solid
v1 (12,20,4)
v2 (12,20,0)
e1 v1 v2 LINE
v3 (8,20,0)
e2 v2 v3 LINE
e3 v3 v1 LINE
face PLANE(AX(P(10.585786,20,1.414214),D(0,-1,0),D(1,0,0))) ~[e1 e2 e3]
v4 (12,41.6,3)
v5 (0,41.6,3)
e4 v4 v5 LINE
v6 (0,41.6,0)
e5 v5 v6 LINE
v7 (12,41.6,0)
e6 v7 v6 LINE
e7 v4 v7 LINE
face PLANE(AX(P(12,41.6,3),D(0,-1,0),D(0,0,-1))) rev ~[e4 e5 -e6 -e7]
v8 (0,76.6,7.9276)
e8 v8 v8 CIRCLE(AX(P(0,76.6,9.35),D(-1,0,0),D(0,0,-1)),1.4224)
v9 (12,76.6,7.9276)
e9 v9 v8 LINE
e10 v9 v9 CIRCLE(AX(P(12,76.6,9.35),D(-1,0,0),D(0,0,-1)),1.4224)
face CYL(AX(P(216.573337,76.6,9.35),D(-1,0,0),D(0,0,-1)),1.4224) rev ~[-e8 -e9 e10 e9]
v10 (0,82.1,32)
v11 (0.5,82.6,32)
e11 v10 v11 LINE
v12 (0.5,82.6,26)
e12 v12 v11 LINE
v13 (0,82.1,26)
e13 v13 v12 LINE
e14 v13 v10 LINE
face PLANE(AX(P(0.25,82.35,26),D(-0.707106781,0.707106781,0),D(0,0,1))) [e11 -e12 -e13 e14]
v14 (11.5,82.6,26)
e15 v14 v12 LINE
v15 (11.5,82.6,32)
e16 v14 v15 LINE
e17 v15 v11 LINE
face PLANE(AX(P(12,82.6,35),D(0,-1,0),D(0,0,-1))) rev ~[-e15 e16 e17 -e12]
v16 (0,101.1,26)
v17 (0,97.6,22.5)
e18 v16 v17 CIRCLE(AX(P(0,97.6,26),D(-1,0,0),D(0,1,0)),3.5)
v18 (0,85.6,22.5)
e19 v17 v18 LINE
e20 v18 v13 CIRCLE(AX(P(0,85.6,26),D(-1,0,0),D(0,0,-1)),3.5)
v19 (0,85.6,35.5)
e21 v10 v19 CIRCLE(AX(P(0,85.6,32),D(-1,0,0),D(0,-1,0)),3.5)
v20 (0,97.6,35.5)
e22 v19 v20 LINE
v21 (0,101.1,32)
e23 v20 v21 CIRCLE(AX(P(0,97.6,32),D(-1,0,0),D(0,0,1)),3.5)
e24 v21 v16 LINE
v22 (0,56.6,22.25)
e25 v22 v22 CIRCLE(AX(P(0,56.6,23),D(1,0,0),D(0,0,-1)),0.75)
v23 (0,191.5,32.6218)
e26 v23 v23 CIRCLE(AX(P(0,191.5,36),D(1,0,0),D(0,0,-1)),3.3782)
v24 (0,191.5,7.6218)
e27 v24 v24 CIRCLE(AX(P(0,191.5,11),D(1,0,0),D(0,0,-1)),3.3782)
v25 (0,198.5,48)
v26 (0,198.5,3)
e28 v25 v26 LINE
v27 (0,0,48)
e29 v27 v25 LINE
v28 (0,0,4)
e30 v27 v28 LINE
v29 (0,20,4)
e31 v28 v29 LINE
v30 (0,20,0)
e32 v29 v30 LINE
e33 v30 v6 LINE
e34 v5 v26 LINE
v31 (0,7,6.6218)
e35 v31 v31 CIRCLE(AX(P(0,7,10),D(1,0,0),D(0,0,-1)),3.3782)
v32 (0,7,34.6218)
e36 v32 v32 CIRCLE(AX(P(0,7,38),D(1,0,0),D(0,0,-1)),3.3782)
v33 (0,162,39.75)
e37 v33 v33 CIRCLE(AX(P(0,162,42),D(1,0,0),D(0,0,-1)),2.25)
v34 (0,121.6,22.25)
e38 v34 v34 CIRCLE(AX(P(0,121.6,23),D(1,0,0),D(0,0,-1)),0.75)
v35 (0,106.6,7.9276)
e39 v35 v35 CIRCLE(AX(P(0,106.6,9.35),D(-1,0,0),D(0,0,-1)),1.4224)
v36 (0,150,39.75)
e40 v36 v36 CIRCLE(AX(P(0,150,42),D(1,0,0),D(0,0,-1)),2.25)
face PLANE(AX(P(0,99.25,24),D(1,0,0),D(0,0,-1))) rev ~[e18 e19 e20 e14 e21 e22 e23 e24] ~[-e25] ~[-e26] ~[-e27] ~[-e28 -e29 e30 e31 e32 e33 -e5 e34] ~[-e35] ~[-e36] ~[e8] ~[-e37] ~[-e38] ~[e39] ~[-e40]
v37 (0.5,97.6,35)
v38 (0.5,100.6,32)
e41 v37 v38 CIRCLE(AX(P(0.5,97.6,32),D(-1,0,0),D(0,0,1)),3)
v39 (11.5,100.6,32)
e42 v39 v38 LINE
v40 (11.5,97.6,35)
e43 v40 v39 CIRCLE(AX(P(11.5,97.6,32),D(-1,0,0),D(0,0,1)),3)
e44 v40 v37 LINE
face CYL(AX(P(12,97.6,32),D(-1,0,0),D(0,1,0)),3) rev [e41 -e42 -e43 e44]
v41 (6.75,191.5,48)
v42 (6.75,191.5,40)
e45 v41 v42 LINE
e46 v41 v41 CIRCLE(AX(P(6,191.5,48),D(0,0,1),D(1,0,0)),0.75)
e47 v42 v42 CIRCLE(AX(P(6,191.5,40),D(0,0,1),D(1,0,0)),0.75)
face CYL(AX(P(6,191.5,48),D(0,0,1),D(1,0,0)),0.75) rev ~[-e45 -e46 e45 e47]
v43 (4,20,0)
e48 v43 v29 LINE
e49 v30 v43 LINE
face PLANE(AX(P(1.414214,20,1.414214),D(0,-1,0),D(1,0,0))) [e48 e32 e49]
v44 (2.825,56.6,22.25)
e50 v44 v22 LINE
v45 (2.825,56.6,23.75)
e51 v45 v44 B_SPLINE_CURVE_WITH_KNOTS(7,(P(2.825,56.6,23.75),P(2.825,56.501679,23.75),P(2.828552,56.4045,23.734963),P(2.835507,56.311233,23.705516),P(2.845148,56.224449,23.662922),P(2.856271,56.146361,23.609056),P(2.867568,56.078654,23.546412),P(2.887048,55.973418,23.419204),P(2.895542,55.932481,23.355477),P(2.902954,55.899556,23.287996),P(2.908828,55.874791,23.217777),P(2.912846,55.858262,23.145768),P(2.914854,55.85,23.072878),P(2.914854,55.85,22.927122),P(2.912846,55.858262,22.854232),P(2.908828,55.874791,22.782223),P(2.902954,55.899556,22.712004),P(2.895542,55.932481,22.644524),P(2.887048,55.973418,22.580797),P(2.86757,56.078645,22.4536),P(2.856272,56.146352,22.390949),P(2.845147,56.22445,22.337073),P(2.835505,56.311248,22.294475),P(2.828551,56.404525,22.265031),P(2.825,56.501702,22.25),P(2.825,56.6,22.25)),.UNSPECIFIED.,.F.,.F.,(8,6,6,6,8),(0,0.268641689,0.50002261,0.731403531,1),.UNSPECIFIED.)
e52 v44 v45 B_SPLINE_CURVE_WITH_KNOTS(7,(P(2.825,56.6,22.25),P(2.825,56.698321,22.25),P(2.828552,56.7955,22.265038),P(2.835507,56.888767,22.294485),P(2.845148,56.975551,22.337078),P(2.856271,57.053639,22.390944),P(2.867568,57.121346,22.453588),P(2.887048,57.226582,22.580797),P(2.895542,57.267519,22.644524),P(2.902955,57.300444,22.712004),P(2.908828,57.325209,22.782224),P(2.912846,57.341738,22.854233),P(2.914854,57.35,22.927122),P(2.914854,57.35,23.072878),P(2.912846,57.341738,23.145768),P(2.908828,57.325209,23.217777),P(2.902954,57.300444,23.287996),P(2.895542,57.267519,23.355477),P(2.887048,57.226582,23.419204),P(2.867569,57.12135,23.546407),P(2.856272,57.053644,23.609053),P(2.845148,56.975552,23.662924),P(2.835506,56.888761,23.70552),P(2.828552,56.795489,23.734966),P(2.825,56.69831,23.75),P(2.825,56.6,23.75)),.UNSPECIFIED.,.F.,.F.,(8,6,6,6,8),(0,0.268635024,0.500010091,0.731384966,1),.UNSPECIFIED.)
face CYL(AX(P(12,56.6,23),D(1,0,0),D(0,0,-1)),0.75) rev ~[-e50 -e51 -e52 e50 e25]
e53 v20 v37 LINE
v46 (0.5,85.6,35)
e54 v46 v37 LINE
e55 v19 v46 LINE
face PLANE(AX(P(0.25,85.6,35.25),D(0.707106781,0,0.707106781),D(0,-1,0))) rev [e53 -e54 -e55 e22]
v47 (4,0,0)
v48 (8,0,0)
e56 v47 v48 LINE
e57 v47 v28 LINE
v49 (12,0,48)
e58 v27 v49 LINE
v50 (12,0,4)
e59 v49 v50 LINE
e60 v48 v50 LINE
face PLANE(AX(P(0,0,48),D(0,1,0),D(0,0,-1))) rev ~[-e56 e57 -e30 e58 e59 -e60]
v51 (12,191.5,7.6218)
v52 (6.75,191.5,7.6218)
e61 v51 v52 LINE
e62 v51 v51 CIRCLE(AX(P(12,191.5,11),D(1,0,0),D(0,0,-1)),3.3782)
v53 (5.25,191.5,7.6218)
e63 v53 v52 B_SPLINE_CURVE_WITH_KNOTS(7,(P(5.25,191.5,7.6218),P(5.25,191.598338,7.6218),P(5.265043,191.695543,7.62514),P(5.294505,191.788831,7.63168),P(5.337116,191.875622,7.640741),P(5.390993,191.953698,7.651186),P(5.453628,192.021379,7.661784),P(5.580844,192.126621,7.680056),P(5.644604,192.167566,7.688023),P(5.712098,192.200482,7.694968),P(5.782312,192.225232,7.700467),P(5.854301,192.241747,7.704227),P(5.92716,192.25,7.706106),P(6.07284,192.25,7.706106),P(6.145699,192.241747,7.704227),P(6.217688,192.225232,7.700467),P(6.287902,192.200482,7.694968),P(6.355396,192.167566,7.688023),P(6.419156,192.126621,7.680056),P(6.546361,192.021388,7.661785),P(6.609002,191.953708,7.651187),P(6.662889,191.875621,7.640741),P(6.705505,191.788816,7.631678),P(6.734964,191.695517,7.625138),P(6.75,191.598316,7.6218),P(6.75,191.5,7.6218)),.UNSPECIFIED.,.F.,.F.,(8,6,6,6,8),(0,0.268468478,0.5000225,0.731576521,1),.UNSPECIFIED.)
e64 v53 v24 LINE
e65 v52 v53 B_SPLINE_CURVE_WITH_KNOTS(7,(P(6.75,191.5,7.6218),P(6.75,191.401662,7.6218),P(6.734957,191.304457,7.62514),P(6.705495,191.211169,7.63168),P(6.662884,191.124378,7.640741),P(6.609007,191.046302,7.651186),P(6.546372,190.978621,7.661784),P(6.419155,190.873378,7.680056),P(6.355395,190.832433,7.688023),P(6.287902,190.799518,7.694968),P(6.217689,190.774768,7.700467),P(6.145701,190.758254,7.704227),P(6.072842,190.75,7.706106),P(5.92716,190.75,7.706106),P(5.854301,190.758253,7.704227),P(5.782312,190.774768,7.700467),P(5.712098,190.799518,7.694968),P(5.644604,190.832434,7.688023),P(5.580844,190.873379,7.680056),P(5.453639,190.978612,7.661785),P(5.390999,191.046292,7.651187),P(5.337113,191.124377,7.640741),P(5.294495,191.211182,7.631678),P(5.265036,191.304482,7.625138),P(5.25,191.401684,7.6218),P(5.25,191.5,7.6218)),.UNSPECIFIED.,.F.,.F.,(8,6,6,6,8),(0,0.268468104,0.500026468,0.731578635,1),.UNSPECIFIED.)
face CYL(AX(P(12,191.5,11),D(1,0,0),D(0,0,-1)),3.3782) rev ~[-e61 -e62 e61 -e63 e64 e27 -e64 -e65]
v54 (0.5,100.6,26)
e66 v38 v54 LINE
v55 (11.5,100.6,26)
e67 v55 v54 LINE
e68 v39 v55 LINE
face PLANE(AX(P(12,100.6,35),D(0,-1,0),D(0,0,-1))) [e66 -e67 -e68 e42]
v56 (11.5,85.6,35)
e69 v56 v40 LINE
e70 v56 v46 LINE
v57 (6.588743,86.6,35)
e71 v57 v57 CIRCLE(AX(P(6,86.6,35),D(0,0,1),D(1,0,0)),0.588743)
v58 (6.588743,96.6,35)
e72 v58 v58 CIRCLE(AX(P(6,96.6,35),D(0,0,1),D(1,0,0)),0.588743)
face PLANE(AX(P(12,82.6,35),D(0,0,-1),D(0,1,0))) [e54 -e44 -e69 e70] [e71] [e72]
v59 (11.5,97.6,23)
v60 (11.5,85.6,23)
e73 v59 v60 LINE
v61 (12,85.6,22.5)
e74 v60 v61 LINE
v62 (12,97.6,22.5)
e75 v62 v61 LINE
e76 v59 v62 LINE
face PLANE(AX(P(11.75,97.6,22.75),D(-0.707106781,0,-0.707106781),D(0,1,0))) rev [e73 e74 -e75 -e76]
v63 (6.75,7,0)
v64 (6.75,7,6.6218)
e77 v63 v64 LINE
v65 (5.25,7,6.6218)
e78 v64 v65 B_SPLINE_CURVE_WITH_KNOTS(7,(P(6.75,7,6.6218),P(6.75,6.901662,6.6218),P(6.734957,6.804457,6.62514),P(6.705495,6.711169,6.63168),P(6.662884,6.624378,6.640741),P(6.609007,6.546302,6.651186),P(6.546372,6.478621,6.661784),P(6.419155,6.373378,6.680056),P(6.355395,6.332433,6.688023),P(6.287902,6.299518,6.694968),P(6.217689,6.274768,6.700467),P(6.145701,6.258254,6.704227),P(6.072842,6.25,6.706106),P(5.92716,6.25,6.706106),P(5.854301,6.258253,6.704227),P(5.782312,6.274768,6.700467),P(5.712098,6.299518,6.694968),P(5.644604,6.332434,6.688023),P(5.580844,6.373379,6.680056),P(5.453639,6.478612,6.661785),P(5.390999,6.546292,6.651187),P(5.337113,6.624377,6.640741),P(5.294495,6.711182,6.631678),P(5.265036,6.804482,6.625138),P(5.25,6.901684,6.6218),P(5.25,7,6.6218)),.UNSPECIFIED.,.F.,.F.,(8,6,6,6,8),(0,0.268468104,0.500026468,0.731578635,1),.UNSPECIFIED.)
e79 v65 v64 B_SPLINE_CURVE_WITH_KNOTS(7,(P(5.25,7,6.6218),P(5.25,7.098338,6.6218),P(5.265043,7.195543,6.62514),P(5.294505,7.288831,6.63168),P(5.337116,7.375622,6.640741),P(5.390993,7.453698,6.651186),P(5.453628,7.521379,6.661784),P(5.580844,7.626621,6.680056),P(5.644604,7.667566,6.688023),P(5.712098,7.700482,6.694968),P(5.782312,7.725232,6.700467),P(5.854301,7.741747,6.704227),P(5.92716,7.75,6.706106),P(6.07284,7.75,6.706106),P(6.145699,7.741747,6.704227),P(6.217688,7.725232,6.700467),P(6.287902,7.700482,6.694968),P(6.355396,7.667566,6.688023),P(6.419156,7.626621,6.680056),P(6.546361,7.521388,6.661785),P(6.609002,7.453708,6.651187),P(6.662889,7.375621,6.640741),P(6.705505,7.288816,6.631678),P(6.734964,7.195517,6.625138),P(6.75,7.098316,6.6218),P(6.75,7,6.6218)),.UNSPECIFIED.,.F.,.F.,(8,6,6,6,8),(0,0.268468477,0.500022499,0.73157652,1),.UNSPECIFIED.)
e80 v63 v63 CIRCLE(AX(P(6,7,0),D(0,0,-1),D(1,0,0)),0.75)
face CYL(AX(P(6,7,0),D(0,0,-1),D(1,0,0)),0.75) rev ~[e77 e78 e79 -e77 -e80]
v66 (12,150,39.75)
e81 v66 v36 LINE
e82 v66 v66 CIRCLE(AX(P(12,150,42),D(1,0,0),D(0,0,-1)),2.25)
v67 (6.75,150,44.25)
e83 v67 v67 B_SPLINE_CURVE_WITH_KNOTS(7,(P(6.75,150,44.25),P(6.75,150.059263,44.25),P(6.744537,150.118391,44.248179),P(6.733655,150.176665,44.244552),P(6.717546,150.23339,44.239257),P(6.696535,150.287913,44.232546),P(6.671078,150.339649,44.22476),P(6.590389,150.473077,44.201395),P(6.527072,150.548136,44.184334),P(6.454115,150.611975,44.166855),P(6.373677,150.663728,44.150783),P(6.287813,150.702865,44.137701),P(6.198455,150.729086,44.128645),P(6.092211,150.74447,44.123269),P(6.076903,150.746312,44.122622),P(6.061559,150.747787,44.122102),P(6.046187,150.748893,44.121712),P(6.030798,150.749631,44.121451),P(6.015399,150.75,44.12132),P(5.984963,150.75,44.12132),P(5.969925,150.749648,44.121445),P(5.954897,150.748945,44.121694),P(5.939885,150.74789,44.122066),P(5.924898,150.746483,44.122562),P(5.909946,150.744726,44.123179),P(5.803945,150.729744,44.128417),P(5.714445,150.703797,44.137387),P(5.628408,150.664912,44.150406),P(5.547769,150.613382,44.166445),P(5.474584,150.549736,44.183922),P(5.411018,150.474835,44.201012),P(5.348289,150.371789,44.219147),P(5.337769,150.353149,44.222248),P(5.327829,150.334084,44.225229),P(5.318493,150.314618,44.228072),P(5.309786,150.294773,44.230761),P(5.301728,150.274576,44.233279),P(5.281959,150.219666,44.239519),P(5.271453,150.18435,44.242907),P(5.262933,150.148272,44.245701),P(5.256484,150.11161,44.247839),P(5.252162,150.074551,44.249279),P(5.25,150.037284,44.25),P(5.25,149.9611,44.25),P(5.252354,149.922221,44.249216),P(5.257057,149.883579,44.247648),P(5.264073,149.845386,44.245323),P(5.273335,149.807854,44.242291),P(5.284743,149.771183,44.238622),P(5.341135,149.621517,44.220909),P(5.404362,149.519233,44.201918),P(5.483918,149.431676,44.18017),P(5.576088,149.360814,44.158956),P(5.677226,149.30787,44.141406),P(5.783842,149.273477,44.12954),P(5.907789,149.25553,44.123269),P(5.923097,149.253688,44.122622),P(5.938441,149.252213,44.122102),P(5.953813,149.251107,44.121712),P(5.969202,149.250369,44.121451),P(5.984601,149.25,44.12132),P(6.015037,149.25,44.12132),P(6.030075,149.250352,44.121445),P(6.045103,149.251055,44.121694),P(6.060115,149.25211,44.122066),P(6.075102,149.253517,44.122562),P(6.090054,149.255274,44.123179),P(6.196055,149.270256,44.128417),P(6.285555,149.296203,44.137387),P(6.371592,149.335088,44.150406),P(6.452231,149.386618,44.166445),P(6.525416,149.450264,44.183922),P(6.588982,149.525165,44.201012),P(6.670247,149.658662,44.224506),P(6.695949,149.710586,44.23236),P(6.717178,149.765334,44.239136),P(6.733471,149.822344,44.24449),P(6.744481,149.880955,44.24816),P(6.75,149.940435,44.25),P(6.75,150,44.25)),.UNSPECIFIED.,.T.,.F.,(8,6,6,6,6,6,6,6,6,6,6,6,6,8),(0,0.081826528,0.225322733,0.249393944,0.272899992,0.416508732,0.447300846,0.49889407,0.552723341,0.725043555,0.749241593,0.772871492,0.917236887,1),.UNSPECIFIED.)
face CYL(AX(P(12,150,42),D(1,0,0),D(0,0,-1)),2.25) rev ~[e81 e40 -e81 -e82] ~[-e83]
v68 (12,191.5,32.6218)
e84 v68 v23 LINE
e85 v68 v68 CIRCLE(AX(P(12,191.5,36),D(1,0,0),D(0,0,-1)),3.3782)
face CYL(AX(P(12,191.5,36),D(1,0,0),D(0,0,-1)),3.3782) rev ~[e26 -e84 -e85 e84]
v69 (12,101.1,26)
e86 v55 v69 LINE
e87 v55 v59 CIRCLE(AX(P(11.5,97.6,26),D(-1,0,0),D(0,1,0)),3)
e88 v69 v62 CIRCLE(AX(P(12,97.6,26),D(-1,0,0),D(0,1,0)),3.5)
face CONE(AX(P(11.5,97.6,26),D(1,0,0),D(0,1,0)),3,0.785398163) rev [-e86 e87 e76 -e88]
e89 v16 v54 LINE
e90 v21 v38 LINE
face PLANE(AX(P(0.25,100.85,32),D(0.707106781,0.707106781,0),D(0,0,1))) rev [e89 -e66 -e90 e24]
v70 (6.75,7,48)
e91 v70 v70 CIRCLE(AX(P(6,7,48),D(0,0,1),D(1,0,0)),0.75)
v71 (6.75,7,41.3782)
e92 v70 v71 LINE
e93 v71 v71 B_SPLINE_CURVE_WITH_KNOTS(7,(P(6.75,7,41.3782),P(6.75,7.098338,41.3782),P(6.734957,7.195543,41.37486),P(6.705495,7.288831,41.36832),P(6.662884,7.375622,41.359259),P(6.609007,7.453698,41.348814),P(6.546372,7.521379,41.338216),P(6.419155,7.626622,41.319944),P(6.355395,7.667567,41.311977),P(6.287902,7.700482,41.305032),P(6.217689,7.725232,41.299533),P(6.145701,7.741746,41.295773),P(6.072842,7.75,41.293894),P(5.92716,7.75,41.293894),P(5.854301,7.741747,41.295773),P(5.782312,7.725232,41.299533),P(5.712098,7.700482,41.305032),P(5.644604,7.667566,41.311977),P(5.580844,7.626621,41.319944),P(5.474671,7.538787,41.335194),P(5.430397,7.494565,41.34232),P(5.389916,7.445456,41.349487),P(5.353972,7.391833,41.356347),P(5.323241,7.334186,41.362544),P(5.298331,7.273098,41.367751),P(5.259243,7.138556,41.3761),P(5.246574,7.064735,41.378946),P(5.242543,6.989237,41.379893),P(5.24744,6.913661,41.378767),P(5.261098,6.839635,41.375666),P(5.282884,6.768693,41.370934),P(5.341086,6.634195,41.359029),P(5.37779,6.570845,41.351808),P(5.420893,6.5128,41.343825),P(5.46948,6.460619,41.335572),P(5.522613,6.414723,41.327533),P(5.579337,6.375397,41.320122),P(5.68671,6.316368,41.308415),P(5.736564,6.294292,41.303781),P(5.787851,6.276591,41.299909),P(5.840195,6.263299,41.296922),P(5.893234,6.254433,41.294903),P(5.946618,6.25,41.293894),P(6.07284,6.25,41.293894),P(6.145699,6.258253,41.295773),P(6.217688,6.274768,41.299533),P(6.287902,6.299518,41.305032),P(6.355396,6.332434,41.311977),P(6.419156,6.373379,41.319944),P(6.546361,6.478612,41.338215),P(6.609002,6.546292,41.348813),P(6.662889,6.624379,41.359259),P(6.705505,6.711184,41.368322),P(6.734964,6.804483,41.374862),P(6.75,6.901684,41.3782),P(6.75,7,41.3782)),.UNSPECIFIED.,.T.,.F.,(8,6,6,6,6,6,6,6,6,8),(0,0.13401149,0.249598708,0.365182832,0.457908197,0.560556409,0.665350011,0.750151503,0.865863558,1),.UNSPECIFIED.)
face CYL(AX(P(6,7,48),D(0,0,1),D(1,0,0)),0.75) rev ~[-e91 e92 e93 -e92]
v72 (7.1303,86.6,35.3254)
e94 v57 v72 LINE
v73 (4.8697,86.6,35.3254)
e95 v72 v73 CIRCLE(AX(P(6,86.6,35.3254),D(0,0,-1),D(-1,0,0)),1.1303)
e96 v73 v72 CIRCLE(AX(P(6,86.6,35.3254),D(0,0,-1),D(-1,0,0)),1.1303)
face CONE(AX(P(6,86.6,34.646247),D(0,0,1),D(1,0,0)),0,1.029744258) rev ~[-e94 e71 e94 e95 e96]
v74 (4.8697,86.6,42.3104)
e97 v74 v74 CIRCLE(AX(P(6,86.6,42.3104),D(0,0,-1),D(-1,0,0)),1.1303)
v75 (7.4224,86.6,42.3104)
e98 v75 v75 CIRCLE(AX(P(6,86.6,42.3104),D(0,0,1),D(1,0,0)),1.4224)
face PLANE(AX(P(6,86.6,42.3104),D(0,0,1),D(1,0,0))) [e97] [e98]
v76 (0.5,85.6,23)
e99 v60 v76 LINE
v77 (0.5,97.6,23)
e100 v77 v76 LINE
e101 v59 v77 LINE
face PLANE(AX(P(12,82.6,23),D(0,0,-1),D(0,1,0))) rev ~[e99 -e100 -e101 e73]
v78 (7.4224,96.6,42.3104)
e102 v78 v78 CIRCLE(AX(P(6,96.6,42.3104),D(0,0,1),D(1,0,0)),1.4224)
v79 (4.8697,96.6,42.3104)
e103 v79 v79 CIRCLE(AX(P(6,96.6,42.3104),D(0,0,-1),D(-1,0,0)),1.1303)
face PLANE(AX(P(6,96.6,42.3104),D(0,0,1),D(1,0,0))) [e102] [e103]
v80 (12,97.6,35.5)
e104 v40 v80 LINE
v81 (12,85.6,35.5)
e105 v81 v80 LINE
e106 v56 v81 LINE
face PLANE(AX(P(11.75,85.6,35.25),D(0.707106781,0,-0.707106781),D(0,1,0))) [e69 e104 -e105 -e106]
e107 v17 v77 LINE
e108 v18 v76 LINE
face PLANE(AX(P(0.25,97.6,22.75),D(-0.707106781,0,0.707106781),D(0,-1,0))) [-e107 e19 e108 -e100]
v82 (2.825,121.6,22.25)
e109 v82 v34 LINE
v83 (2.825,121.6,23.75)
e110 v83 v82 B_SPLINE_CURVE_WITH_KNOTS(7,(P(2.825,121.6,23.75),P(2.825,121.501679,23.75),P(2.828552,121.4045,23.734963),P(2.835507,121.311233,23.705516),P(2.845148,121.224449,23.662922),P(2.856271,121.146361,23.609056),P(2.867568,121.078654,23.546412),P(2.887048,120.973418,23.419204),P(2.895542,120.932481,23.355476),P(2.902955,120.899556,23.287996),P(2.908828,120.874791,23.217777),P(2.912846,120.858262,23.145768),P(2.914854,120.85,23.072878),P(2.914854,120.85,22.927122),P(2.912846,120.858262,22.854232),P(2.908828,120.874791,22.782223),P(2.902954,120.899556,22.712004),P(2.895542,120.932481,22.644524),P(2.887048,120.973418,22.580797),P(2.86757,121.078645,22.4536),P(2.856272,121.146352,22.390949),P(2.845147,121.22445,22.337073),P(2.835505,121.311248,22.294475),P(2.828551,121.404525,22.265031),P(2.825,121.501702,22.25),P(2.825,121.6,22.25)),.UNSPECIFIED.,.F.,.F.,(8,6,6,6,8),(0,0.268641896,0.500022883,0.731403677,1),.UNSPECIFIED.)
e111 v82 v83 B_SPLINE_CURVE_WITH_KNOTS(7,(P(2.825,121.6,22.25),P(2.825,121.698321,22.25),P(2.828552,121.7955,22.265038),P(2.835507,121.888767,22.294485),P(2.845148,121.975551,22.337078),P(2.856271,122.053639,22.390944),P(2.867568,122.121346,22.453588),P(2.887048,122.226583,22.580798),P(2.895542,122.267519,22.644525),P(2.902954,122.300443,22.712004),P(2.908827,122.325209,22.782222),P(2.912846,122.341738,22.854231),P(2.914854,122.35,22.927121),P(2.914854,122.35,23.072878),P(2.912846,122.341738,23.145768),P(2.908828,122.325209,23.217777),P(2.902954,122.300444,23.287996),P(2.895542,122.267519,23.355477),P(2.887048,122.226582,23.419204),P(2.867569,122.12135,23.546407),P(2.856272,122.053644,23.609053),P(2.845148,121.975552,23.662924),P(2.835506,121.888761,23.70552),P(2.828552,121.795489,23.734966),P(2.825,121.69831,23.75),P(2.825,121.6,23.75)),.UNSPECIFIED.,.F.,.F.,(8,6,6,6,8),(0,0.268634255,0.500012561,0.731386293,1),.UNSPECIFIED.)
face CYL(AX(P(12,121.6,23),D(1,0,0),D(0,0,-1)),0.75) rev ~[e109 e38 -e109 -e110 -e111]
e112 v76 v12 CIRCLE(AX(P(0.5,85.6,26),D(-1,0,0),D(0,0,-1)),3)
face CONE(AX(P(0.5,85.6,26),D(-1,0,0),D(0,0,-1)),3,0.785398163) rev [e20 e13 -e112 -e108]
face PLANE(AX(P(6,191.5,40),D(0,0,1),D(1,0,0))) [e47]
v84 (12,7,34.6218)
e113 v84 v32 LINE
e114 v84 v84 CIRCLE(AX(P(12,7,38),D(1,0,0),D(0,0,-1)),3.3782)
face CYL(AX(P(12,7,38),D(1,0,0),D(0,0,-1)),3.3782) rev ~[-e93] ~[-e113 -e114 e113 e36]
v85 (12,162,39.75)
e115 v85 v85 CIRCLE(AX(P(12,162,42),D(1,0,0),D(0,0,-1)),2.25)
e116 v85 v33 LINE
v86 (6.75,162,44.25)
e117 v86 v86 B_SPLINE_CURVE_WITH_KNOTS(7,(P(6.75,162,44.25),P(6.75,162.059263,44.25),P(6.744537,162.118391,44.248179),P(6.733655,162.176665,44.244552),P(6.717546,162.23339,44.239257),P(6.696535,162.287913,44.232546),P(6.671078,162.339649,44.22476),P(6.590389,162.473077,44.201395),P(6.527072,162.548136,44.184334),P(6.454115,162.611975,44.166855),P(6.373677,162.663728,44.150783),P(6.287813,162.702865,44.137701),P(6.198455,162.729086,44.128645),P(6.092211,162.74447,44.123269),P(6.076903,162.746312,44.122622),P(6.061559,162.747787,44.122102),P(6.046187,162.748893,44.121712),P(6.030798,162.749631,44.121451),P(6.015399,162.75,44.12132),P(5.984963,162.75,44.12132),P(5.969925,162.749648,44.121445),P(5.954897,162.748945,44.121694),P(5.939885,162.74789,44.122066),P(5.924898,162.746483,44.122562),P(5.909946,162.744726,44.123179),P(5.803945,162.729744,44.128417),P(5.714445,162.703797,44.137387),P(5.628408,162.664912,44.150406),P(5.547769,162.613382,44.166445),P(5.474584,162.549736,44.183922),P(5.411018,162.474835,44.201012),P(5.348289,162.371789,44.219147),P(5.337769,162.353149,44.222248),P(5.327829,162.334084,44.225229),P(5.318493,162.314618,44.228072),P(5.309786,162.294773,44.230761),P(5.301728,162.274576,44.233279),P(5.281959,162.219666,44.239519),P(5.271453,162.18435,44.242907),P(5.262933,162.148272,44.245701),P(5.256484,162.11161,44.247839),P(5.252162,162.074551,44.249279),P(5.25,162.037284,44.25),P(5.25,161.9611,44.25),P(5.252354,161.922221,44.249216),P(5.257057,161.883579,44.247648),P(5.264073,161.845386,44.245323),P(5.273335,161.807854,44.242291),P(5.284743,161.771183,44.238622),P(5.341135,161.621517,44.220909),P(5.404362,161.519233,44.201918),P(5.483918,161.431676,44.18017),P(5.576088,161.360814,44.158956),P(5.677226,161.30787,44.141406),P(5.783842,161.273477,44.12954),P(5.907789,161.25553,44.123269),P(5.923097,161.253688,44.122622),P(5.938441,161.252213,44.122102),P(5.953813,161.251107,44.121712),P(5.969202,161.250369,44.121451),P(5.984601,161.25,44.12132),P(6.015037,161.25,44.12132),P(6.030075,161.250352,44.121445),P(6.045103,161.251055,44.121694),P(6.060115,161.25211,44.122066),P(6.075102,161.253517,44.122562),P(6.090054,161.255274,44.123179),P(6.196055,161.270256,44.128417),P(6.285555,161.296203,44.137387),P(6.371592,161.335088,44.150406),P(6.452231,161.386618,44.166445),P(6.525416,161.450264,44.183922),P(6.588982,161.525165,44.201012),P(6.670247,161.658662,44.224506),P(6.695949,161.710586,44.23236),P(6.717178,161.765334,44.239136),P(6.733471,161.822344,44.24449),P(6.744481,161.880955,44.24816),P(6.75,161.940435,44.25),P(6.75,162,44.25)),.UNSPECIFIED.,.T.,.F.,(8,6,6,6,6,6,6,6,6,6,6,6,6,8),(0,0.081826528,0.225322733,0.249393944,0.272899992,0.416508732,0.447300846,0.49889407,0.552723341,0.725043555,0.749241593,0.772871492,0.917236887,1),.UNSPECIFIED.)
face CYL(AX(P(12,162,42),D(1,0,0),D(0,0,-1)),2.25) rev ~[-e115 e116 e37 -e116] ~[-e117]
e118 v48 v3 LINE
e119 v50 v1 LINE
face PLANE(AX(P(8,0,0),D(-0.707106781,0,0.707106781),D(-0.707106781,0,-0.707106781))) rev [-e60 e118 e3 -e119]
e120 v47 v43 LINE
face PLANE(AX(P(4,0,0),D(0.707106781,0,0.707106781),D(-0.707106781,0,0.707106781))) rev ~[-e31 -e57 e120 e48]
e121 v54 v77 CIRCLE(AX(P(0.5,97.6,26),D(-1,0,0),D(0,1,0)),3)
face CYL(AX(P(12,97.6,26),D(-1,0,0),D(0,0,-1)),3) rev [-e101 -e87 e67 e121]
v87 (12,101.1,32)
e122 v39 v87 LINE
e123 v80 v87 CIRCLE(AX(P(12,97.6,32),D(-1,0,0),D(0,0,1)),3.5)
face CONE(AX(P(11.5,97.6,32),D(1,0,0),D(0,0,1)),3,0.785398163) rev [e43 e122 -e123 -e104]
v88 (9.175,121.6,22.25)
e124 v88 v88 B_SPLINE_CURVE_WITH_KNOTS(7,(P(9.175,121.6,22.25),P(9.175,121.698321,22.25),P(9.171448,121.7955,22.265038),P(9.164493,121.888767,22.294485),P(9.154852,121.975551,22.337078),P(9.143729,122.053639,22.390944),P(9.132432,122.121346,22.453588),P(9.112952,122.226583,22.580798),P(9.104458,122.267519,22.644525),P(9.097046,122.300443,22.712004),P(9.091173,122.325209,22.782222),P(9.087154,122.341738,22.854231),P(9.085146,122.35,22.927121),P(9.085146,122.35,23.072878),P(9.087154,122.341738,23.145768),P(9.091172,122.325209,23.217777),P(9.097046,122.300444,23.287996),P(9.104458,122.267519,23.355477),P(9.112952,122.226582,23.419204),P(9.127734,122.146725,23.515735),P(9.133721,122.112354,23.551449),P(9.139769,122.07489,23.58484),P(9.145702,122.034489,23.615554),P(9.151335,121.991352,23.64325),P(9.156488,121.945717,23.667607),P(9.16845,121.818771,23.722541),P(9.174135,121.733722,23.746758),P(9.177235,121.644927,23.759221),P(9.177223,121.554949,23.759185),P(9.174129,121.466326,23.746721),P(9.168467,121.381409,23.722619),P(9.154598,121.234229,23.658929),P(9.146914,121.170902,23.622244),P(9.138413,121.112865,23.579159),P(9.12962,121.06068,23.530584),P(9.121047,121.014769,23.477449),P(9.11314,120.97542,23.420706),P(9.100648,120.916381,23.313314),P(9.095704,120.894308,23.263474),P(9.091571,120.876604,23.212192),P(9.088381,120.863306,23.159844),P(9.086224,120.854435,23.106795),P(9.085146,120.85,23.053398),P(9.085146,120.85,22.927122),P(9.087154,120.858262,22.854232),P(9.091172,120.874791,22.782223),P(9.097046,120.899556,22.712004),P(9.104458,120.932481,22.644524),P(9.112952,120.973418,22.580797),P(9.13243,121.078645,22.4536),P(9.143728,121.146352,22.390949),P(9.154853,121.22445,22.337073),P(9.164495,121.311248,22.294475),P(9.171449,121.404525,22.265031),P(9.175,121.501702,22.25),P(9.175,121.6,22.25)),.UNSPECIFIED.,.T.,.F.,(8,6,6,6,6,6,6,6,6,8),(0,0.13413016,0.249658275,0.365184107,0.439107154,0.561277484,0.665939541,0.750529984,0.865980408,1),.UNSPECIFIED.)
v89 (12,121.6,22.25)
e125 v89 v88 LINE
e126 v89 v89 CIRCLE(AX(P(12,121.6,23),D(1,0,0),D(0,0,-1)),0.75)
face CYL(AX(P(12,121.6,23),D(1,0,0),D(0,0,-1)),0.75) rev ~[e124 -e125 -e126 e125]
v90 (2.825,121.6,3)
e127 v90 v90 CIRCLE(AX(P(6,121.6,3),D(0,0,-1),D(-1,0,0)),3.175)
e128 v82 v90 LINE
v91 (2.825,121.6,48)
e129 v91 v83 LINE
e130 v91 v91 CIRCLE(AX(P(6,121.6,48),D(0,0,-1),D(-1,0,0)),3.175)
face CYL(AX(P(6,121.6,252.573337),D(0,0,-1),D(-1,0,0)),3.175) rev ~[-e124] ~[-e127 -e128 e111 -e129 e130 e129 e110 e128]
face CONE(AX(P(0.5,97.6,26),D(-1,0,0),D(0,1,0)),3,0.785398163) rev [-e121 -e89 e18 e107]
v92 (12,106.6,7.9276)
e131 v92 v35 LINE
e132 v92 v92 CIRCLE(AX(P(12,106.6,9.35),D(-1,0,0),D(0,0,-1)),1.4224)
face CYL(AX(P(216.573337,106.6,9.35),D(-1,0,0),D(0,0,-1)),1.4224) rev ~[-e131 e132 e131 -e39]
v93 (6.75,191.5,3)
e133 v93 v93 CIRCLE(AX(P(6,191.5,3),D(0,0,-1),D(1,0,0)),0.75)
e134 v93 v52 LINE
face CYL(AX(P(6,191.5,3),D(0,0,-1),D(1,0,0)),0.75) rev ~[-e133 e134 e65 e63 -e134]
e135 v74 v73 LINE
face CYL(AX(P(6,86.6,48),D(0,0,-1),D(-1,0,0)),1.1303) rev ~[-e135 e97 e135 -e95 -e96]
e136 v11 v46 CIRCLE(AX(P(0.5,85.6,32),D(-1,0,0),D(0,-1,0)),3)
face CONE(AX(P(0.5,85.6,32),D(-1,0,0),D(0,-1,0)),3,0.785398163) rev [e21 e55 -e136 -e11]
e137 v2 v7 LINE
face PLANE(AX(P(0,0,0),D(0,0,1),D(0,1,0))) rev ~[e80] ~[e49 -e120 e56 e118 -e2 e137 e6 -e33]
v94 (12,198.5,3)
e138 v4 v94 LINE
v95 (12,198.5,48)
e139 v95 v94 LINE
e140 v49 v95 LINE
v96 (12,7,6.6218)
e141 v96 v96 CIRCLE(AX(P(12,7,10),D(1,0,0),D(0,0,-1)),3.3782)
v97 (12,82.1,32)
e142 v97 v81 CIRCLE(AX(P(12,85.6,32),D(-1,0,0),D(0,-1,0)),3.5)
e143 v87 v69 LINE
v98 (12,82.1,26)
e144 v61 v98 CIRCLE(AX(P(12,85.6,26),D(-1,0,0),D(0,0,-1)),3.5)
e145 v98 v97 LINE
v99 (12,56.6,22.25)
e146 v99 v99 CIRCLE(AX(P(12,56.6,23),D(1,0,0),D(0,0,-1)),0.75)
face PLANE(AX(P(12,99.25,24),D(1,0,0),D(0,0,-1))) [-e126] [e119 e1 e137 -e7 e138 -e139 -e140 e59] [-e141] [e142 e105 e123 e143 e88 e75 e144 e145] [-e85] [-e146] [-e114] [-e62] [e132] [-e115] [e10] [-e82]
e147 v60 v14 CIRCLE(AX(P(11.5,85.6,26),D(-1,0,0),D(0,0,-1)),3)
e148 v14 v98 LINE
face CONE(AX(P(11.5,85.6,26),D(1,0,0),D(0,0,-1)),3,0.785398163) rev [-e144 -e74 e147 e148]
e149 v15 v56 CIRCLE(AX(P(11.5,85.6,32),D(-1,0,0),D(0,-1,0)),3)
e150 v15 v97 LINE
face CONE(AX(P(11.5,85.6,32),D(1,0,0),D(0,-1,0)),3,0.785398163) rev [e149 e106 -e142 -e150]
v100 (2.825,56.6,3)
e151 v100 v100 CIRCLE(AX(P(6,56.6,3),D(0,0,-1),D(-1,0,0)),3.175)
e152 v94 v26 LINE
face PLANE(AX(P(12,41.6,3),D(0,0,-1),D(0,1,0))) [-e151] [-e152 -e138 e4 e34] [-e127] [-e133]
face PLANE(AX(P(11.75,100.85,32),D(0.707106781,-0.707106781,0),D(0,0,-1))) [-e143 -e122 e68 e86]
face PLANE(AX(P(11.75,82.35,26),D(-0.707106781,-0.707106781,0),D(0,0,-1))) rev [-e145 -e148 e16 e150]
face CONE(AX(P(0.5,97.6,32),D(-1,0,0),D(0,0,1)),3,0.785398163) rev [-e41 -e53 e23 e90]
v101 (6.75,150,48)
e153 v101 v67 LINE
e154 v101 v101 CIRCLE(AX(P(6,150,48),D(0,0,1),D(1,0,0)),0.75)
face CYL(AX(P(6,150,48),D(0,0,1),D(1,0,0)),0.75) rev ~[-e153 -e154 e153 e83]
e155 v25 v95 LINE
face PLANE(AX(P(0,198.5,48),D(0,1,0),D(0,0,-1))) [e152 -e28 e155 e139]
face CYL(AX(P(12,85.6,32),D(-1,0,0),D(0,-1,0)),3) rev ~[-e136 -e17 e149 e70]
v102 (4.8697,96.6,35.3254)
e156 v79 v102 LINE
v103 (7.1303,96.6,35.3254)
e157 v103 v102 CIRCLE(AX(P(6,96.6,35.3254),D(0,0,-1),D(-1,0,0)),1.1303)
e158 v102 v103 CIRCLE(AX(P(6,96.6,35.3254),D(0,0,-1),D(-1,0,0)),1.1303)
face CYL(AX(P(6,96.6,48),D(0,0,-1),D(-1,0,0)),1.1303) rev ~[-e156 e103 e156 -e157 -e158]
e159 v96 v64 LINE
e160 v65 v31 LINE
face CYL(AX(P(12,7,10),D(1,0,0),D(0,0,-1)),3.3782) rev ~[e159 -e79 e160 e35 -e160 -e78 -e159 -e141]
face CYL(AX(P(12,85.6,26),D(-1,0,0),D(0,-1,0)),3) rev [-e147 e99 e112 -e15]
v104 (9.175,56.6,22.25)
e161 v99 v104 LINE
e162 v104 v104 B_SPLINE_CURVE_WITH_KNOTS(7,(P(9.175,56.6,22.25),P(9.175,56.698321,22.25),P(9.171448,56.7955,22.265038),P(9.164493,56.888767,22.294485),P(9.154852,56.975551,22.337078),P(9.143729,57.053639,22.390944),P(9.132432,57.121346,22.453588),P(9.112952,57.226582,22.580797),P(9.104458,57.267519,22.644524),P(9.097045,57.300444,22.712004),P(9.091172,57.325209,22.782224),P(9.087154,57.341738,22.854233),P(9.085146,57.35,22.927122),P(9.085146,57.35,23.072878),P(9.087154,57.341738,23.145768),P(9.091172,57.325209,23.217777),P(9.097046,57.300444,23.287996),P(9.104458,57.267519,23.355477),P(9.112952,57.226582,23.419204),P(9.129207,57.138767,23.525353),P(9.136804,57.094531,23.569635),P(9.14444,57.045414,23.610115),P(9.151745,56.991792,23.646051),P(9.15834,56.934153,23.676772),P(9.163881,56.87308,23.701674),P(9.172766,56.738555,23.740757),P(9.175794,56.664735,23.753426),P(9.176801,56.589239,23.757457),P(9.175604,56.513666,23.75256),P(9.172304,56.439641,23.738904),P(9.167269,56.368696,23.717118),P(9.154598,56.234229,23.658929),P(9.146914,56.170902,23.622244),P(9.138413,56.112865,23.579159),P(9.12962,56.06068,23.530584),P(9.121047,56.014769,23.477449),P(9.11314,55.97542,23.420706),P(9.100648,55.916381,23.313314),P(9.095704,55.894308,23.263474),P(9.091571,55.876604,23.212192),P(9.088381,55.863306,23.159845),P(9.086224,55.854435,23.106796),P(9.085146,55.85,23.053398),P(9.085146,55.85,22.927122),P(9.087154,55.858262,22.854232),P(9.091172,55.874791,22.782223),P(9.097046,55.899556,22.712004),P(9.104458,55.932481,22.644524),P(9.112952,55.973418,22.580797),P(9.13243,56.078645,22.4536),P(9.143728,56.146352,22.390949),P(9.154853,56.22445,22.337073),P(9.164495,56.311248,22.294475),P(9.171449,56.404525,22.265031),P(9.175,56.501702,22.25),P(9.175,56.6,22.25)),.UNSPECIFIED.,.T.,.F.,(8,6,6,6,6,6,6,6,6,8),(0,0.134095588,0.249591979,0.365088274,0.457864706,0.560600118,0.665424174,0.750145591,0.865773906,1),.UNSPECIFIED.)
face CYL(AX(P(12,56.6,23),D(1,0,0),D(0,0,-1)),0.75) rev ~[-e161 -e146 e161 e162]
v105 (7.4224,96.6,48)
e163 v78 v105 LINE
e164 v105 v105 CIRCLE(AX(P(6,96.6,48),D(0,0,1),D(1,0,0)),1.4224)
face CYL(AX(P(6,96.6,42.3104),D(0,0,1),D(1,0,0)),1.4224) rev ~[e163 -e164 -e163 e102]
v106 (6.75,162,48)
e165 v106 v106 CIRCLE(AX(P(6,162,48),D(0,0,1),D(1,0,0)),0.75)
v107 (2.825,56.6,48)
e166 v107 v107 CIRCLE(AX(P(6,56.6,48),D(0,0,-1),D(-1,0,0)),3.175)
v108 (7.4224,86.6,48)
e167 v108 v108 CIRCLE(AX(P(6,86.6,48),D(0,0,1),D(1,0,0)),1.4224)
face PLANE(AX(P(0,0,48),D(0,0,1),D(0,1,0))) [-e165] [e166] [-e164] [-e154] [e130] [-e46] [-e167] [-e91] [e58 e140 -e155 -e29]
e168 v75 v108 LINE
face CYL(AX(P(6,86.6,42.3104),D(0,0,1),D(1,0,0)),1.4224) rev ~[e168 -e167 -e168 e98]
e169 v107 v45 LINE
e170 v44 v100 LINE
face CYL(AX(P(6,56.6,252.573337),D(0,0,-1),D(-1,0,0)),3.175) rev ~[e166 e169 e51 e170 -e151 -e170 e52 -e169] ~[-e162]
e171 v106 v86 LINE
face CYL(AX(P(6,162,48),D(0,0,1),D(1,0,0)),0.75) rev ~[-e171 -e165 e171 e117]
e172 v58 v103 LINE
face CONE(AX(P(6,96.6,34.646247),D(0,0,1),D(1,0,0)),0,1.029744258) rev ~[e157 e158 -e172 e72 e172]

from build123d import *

# Parameters (mm, degrees)
SKETCH1_W                       = 48.000000106
SKETCH1_H                       = 198.5
EXTRUDE1_DEPTH                  = 12
SKETCH2_W                       = 3
SKETCH2_H                       = 156.9
EXTRUDE2_DEPTH                  = 13
SKETCH3_R                       = 3.3782
SKETCH3_R_2                     = 0.75
EXTRUDE3_DEPTH                  = 13
SKETCH4_W                       = 12
SKETCH4_H                       = 18
EXTRUDE4_DEPTH                  = 13
FILLET1_R                       = 3
CHAMFER1_SIZE                   = 0.5
EXTRUDE5_DEPTH                  = 20
F_4_40_TAPPED_HOLE1_D           = 2.8448
F_4_40_TAPPED_HOLE2_D           = 2.2606
F_4_40_TAPPED_HOLE2_DEPTH       = 12.6746
F_4_40_TAPPED_HOLE2_CBORE_D     = 2.8448
F_4_40_TAPPED_HOLE2_CBORE_DEPTH = 5.6896
F_4_40_TAPPED_HOLE2_TIP         = 0.679152758
F_1_4_20_TAPPED_HOLE1_D         = 6.35
SKETCH9_R                       = 0.75
EXTRUDE6_DEPTH                  = 8
SKETCH10_R                      = 0.75
EXTRUDE7_DEPTH                  = 8
SKETCH12_R                      = 0.75
EXTRUDE8_DEPTH                  = 8
SKETCH13_R                      = 2.25
CUT_EXTRUDE1_DEPTH              = 13.0000001
SKETCH14_R                      = 0.75
CUT_EXTRUDE2_DEPTH              = 6


with BuildPart() as part:
    # Sketch1 → Extrude1 (new body)
    with BuildSketch(Plane(origin=(0, 0, 0), x_dir=(0, 0, -1), z_dir=(1, 0, 0))):
        with Locations((-24.000000053, 99.25)):
            Rectangle(SKETCH1_W, SKETCH1_H)
    extrude(amount=EXTRUDE1_DEPTH)

    # Sketch2 → Extrude2 (cut, through all)
    with BuildSketch(Plane(origin=(12, 0, 0), x_dir=(0, 0, -1), z_dir=(1, 0, 0))):
        with Locations((-1.5, 120.05)):
            Rectangle(SKETCH2_W, SKETCH2_H)
    extrude(amount=-EXTRUDE2_DEPTH, mode=Mode.SUBTRACT)

    # Sketch3 → Extrude3 (cut, through all)
    with BuildSketch(Plane(origin=(12, 0, 0), x_dir=(0, 0, -1), z_dir=(1, 0, 0))):
        with Locations((-36.000000106, 191.5)):
            Circle(SKETCH3_R)
        with Locations((-11.000000106, 191.5)):
            Circle(SKETCH3_R)
        with Locations((-38.000000106, 7)):
            Circle(SKETCH3_R)
        with Locations((-10.000000106, 7)):
            Circle(SKETCH3_R)
        with Locations((-23.000000106, 56.6)):
            Circle(SKETCH3_R_2)
        with Locations((-23.000000106, 121.6)):
            Circle(SKETCH3_R_2)
    extrude(amount=-EXTRUDE3_DEPTH, mode=Mode.SUBTRACT)

    # Sketch4 → Extrude4 (cut, through all)
    with BuildSketch(Plane(origin=(12, 0, 0), x_dir=(0, 0, -1), z_dir=(1, 0, 0))):
        with Locations((-29.000000106, 91.6)):
            Rectangle(SKETCH4_W, SKETCH4_H)
    extrude(amount=-EXTRUDE4_DEPTH, mode=Mode.SUBTRACT)

    # Fillet1
    fillet1_edges = [part.edges().sort_by_distance(p)[0] for p in [
        (6, 82.6, 35.000000106),
        (6, 100.6, 35.000000106),
        (6, 100.6, 23.000000106),
        (6, 82.6, 23.000000106),
    ]]
    fillet(fillet1_edges, radius=FILLET1_R)

    # Chamfer1
    chamfer1_edges = [part.edges().sort_by_distance(p)[0] for p in [
        (12, 91.6, 35.000000106),
        (0, 91.6, 35.000000106),
        (12, 100.6, 29.000000106),
        (0, 100.6, 29.000000106),
        (12, 91.6, 23.000000106),
        (0, 91.6, 23.000000106),
        (12, 82.6, 29.000000106),
        (0, 82.6, 29.000000106),
        (12, 99.721320344, 34.12132045),
        (0, 99.721320344, 34.12132045),
        (12, 99.721320344, 23.878679762),
        (0, 99.721320344, 23.878679762),
        (12, 83.478679656, 23.878679762),
        (0, 83.478679656, 23.878679762),
        (12, 83.478679656, 34.12132045),
        (0, 83.478679656, 34.12132045),
    ]]
    chamfer(chamfer1_edges, length=CHAMFER1_SIZE)

    # Sketch5 → Extrude5 (cut)
    with BuildSketch(Plane.XZ):
        Polygon((0, 0), (4, 0), (0, 4), align=None)
    extrude5 = extrude(amount=-EXTRUDE5_DEPTH, mode=Mode.SUBTRACT)

    # Mirror1: Extrude5 across plane
    add(extrude5.mirror(Plane(origin=(6, 0, 0), x_dir=(0, 0, 1), z_dir=(1, 0, 0))), mode=Mode.SUBTRACT)

    # #4-40 Tapped Hole1 (through all)
    with Locations(Plane(origin=(12, 106.6, 9.35), x_dir=(0, 0, 1), z_dir=(1, 0, 0))):
        with Locations((0, 0), (0, 30)):
            Hole(F_4_40_TAPPED_HOLE1_D / 2)

    # #4-40 Tapped Hole2
    with Locations(Plane(origin=(6, 96.6, 48.000000106), x_dir=(1, 0, 0), z_dir=(0, 0, 1))):
        with Locations((0, 0), (0, -10)):
            CounterBoreHole(F_4_40_TAPPED_HOLE2_D / 2, F_4_40_TAPPED_HOLE2_CBORE_D / 2, F_4_40_TAPPED_HOLE2_CBORE_DEPTH, depth=F_4_40_TAPPED_HOLE2_DEPTH)
            with Locations((0, 0, -(F_4_40_TAPPED_HOLE2_DEPTH + F_4_40_TAPPED_HOLE2_TIP / 2))):  # 118° drill point
                Cone(0, F_4_40_TAPPED_HOLE2_D / 2, F_4_40_TAPPED_HOLE2_TIP, mode=Mode.SUBTRACT)

    # 1/4-20 Tapped Hole1 (through all)
    with Locations(Plane(origin=(6, 121.6, 48.000000106), x_dir=(1, 0, 0), z_dir=(0, 0, 1))):
        with Locations((0, 0), (0, -65)):
            Hole(F_1_4_20_TAPPED_HOLE1_D / 2)

    # Sketch9 → Extrude6 (cut)
    with BuildSketch(Plane.XY.offset(48.000000106)):
        with Locations((6, 7)):
            Circle(SKETCH9_R)
        with Locations((6, 191.5)):
            Circle(SKETCH9_R)
    extrude(amount=-EXTRUDE6_DEPTH, mode=Mode.SUBTRACT)

    # Sketch10 → Extrude7 (cut)
    with BuildSketch(Plane(origin=(0, 0, 3), x_dir=(-1, 0, 0), z_dir=(0, 0, -1))):
        with Locations(Location((-6, 191.5, 0), (0, 0, 180))):  # turned: the seam where the file's is
            Circle(SKETCH10_R)
    extrude(amount=-EXTRUDE7_DEPTH, mode=Mode.SUBTRACT)

    # Sketch12 → Extrude8 (cut)
    with BuildSketch(Plane(origin=(0, 0, 0), x_dir=(-1, 0, 0), z_dir=(0, 0, -1))):
        with Locations(Location((-6, 7, 0), (0, 0, 180))):  # turned: the seam where the file's is
            Circle(SKETCH12_R)
    extrude(amount=-EXTRUDE8_DEPTH, mode=Mode.SUBTRACT)

    # Sketch13 → Cut-Extrude1 (cut, through all)
    with BuildSketch(Plane(origin=(12, 0, 0), x_dir=(0, 0, -1), z_dir=(1, 0, 0))):
        with Locations((-42.000000106, 162)):
            Circle(SKETCH13_R)
        with Locations((-42.000000106, 150)):
            Circle(SKETCH13_R)
    extrude(amount=-CUT_EXTRUDE1_DEPTH, mode=Mode.SUBTRACT)

    # Sketch14 → Cut-Extrude2 (cut)
    with BuildSketch(Plane.XY.offset(48.000000106)):
        with Locations((6, 162)):
            Circle(SKETCH14_R)
        with Locations((6, 150)):
            Circle(SKETCH14_R)
    extrude(amount=-CUT_EXTRUDE2_DEPTH, mode=Mode.SUBTRACT)


solid = part.part
